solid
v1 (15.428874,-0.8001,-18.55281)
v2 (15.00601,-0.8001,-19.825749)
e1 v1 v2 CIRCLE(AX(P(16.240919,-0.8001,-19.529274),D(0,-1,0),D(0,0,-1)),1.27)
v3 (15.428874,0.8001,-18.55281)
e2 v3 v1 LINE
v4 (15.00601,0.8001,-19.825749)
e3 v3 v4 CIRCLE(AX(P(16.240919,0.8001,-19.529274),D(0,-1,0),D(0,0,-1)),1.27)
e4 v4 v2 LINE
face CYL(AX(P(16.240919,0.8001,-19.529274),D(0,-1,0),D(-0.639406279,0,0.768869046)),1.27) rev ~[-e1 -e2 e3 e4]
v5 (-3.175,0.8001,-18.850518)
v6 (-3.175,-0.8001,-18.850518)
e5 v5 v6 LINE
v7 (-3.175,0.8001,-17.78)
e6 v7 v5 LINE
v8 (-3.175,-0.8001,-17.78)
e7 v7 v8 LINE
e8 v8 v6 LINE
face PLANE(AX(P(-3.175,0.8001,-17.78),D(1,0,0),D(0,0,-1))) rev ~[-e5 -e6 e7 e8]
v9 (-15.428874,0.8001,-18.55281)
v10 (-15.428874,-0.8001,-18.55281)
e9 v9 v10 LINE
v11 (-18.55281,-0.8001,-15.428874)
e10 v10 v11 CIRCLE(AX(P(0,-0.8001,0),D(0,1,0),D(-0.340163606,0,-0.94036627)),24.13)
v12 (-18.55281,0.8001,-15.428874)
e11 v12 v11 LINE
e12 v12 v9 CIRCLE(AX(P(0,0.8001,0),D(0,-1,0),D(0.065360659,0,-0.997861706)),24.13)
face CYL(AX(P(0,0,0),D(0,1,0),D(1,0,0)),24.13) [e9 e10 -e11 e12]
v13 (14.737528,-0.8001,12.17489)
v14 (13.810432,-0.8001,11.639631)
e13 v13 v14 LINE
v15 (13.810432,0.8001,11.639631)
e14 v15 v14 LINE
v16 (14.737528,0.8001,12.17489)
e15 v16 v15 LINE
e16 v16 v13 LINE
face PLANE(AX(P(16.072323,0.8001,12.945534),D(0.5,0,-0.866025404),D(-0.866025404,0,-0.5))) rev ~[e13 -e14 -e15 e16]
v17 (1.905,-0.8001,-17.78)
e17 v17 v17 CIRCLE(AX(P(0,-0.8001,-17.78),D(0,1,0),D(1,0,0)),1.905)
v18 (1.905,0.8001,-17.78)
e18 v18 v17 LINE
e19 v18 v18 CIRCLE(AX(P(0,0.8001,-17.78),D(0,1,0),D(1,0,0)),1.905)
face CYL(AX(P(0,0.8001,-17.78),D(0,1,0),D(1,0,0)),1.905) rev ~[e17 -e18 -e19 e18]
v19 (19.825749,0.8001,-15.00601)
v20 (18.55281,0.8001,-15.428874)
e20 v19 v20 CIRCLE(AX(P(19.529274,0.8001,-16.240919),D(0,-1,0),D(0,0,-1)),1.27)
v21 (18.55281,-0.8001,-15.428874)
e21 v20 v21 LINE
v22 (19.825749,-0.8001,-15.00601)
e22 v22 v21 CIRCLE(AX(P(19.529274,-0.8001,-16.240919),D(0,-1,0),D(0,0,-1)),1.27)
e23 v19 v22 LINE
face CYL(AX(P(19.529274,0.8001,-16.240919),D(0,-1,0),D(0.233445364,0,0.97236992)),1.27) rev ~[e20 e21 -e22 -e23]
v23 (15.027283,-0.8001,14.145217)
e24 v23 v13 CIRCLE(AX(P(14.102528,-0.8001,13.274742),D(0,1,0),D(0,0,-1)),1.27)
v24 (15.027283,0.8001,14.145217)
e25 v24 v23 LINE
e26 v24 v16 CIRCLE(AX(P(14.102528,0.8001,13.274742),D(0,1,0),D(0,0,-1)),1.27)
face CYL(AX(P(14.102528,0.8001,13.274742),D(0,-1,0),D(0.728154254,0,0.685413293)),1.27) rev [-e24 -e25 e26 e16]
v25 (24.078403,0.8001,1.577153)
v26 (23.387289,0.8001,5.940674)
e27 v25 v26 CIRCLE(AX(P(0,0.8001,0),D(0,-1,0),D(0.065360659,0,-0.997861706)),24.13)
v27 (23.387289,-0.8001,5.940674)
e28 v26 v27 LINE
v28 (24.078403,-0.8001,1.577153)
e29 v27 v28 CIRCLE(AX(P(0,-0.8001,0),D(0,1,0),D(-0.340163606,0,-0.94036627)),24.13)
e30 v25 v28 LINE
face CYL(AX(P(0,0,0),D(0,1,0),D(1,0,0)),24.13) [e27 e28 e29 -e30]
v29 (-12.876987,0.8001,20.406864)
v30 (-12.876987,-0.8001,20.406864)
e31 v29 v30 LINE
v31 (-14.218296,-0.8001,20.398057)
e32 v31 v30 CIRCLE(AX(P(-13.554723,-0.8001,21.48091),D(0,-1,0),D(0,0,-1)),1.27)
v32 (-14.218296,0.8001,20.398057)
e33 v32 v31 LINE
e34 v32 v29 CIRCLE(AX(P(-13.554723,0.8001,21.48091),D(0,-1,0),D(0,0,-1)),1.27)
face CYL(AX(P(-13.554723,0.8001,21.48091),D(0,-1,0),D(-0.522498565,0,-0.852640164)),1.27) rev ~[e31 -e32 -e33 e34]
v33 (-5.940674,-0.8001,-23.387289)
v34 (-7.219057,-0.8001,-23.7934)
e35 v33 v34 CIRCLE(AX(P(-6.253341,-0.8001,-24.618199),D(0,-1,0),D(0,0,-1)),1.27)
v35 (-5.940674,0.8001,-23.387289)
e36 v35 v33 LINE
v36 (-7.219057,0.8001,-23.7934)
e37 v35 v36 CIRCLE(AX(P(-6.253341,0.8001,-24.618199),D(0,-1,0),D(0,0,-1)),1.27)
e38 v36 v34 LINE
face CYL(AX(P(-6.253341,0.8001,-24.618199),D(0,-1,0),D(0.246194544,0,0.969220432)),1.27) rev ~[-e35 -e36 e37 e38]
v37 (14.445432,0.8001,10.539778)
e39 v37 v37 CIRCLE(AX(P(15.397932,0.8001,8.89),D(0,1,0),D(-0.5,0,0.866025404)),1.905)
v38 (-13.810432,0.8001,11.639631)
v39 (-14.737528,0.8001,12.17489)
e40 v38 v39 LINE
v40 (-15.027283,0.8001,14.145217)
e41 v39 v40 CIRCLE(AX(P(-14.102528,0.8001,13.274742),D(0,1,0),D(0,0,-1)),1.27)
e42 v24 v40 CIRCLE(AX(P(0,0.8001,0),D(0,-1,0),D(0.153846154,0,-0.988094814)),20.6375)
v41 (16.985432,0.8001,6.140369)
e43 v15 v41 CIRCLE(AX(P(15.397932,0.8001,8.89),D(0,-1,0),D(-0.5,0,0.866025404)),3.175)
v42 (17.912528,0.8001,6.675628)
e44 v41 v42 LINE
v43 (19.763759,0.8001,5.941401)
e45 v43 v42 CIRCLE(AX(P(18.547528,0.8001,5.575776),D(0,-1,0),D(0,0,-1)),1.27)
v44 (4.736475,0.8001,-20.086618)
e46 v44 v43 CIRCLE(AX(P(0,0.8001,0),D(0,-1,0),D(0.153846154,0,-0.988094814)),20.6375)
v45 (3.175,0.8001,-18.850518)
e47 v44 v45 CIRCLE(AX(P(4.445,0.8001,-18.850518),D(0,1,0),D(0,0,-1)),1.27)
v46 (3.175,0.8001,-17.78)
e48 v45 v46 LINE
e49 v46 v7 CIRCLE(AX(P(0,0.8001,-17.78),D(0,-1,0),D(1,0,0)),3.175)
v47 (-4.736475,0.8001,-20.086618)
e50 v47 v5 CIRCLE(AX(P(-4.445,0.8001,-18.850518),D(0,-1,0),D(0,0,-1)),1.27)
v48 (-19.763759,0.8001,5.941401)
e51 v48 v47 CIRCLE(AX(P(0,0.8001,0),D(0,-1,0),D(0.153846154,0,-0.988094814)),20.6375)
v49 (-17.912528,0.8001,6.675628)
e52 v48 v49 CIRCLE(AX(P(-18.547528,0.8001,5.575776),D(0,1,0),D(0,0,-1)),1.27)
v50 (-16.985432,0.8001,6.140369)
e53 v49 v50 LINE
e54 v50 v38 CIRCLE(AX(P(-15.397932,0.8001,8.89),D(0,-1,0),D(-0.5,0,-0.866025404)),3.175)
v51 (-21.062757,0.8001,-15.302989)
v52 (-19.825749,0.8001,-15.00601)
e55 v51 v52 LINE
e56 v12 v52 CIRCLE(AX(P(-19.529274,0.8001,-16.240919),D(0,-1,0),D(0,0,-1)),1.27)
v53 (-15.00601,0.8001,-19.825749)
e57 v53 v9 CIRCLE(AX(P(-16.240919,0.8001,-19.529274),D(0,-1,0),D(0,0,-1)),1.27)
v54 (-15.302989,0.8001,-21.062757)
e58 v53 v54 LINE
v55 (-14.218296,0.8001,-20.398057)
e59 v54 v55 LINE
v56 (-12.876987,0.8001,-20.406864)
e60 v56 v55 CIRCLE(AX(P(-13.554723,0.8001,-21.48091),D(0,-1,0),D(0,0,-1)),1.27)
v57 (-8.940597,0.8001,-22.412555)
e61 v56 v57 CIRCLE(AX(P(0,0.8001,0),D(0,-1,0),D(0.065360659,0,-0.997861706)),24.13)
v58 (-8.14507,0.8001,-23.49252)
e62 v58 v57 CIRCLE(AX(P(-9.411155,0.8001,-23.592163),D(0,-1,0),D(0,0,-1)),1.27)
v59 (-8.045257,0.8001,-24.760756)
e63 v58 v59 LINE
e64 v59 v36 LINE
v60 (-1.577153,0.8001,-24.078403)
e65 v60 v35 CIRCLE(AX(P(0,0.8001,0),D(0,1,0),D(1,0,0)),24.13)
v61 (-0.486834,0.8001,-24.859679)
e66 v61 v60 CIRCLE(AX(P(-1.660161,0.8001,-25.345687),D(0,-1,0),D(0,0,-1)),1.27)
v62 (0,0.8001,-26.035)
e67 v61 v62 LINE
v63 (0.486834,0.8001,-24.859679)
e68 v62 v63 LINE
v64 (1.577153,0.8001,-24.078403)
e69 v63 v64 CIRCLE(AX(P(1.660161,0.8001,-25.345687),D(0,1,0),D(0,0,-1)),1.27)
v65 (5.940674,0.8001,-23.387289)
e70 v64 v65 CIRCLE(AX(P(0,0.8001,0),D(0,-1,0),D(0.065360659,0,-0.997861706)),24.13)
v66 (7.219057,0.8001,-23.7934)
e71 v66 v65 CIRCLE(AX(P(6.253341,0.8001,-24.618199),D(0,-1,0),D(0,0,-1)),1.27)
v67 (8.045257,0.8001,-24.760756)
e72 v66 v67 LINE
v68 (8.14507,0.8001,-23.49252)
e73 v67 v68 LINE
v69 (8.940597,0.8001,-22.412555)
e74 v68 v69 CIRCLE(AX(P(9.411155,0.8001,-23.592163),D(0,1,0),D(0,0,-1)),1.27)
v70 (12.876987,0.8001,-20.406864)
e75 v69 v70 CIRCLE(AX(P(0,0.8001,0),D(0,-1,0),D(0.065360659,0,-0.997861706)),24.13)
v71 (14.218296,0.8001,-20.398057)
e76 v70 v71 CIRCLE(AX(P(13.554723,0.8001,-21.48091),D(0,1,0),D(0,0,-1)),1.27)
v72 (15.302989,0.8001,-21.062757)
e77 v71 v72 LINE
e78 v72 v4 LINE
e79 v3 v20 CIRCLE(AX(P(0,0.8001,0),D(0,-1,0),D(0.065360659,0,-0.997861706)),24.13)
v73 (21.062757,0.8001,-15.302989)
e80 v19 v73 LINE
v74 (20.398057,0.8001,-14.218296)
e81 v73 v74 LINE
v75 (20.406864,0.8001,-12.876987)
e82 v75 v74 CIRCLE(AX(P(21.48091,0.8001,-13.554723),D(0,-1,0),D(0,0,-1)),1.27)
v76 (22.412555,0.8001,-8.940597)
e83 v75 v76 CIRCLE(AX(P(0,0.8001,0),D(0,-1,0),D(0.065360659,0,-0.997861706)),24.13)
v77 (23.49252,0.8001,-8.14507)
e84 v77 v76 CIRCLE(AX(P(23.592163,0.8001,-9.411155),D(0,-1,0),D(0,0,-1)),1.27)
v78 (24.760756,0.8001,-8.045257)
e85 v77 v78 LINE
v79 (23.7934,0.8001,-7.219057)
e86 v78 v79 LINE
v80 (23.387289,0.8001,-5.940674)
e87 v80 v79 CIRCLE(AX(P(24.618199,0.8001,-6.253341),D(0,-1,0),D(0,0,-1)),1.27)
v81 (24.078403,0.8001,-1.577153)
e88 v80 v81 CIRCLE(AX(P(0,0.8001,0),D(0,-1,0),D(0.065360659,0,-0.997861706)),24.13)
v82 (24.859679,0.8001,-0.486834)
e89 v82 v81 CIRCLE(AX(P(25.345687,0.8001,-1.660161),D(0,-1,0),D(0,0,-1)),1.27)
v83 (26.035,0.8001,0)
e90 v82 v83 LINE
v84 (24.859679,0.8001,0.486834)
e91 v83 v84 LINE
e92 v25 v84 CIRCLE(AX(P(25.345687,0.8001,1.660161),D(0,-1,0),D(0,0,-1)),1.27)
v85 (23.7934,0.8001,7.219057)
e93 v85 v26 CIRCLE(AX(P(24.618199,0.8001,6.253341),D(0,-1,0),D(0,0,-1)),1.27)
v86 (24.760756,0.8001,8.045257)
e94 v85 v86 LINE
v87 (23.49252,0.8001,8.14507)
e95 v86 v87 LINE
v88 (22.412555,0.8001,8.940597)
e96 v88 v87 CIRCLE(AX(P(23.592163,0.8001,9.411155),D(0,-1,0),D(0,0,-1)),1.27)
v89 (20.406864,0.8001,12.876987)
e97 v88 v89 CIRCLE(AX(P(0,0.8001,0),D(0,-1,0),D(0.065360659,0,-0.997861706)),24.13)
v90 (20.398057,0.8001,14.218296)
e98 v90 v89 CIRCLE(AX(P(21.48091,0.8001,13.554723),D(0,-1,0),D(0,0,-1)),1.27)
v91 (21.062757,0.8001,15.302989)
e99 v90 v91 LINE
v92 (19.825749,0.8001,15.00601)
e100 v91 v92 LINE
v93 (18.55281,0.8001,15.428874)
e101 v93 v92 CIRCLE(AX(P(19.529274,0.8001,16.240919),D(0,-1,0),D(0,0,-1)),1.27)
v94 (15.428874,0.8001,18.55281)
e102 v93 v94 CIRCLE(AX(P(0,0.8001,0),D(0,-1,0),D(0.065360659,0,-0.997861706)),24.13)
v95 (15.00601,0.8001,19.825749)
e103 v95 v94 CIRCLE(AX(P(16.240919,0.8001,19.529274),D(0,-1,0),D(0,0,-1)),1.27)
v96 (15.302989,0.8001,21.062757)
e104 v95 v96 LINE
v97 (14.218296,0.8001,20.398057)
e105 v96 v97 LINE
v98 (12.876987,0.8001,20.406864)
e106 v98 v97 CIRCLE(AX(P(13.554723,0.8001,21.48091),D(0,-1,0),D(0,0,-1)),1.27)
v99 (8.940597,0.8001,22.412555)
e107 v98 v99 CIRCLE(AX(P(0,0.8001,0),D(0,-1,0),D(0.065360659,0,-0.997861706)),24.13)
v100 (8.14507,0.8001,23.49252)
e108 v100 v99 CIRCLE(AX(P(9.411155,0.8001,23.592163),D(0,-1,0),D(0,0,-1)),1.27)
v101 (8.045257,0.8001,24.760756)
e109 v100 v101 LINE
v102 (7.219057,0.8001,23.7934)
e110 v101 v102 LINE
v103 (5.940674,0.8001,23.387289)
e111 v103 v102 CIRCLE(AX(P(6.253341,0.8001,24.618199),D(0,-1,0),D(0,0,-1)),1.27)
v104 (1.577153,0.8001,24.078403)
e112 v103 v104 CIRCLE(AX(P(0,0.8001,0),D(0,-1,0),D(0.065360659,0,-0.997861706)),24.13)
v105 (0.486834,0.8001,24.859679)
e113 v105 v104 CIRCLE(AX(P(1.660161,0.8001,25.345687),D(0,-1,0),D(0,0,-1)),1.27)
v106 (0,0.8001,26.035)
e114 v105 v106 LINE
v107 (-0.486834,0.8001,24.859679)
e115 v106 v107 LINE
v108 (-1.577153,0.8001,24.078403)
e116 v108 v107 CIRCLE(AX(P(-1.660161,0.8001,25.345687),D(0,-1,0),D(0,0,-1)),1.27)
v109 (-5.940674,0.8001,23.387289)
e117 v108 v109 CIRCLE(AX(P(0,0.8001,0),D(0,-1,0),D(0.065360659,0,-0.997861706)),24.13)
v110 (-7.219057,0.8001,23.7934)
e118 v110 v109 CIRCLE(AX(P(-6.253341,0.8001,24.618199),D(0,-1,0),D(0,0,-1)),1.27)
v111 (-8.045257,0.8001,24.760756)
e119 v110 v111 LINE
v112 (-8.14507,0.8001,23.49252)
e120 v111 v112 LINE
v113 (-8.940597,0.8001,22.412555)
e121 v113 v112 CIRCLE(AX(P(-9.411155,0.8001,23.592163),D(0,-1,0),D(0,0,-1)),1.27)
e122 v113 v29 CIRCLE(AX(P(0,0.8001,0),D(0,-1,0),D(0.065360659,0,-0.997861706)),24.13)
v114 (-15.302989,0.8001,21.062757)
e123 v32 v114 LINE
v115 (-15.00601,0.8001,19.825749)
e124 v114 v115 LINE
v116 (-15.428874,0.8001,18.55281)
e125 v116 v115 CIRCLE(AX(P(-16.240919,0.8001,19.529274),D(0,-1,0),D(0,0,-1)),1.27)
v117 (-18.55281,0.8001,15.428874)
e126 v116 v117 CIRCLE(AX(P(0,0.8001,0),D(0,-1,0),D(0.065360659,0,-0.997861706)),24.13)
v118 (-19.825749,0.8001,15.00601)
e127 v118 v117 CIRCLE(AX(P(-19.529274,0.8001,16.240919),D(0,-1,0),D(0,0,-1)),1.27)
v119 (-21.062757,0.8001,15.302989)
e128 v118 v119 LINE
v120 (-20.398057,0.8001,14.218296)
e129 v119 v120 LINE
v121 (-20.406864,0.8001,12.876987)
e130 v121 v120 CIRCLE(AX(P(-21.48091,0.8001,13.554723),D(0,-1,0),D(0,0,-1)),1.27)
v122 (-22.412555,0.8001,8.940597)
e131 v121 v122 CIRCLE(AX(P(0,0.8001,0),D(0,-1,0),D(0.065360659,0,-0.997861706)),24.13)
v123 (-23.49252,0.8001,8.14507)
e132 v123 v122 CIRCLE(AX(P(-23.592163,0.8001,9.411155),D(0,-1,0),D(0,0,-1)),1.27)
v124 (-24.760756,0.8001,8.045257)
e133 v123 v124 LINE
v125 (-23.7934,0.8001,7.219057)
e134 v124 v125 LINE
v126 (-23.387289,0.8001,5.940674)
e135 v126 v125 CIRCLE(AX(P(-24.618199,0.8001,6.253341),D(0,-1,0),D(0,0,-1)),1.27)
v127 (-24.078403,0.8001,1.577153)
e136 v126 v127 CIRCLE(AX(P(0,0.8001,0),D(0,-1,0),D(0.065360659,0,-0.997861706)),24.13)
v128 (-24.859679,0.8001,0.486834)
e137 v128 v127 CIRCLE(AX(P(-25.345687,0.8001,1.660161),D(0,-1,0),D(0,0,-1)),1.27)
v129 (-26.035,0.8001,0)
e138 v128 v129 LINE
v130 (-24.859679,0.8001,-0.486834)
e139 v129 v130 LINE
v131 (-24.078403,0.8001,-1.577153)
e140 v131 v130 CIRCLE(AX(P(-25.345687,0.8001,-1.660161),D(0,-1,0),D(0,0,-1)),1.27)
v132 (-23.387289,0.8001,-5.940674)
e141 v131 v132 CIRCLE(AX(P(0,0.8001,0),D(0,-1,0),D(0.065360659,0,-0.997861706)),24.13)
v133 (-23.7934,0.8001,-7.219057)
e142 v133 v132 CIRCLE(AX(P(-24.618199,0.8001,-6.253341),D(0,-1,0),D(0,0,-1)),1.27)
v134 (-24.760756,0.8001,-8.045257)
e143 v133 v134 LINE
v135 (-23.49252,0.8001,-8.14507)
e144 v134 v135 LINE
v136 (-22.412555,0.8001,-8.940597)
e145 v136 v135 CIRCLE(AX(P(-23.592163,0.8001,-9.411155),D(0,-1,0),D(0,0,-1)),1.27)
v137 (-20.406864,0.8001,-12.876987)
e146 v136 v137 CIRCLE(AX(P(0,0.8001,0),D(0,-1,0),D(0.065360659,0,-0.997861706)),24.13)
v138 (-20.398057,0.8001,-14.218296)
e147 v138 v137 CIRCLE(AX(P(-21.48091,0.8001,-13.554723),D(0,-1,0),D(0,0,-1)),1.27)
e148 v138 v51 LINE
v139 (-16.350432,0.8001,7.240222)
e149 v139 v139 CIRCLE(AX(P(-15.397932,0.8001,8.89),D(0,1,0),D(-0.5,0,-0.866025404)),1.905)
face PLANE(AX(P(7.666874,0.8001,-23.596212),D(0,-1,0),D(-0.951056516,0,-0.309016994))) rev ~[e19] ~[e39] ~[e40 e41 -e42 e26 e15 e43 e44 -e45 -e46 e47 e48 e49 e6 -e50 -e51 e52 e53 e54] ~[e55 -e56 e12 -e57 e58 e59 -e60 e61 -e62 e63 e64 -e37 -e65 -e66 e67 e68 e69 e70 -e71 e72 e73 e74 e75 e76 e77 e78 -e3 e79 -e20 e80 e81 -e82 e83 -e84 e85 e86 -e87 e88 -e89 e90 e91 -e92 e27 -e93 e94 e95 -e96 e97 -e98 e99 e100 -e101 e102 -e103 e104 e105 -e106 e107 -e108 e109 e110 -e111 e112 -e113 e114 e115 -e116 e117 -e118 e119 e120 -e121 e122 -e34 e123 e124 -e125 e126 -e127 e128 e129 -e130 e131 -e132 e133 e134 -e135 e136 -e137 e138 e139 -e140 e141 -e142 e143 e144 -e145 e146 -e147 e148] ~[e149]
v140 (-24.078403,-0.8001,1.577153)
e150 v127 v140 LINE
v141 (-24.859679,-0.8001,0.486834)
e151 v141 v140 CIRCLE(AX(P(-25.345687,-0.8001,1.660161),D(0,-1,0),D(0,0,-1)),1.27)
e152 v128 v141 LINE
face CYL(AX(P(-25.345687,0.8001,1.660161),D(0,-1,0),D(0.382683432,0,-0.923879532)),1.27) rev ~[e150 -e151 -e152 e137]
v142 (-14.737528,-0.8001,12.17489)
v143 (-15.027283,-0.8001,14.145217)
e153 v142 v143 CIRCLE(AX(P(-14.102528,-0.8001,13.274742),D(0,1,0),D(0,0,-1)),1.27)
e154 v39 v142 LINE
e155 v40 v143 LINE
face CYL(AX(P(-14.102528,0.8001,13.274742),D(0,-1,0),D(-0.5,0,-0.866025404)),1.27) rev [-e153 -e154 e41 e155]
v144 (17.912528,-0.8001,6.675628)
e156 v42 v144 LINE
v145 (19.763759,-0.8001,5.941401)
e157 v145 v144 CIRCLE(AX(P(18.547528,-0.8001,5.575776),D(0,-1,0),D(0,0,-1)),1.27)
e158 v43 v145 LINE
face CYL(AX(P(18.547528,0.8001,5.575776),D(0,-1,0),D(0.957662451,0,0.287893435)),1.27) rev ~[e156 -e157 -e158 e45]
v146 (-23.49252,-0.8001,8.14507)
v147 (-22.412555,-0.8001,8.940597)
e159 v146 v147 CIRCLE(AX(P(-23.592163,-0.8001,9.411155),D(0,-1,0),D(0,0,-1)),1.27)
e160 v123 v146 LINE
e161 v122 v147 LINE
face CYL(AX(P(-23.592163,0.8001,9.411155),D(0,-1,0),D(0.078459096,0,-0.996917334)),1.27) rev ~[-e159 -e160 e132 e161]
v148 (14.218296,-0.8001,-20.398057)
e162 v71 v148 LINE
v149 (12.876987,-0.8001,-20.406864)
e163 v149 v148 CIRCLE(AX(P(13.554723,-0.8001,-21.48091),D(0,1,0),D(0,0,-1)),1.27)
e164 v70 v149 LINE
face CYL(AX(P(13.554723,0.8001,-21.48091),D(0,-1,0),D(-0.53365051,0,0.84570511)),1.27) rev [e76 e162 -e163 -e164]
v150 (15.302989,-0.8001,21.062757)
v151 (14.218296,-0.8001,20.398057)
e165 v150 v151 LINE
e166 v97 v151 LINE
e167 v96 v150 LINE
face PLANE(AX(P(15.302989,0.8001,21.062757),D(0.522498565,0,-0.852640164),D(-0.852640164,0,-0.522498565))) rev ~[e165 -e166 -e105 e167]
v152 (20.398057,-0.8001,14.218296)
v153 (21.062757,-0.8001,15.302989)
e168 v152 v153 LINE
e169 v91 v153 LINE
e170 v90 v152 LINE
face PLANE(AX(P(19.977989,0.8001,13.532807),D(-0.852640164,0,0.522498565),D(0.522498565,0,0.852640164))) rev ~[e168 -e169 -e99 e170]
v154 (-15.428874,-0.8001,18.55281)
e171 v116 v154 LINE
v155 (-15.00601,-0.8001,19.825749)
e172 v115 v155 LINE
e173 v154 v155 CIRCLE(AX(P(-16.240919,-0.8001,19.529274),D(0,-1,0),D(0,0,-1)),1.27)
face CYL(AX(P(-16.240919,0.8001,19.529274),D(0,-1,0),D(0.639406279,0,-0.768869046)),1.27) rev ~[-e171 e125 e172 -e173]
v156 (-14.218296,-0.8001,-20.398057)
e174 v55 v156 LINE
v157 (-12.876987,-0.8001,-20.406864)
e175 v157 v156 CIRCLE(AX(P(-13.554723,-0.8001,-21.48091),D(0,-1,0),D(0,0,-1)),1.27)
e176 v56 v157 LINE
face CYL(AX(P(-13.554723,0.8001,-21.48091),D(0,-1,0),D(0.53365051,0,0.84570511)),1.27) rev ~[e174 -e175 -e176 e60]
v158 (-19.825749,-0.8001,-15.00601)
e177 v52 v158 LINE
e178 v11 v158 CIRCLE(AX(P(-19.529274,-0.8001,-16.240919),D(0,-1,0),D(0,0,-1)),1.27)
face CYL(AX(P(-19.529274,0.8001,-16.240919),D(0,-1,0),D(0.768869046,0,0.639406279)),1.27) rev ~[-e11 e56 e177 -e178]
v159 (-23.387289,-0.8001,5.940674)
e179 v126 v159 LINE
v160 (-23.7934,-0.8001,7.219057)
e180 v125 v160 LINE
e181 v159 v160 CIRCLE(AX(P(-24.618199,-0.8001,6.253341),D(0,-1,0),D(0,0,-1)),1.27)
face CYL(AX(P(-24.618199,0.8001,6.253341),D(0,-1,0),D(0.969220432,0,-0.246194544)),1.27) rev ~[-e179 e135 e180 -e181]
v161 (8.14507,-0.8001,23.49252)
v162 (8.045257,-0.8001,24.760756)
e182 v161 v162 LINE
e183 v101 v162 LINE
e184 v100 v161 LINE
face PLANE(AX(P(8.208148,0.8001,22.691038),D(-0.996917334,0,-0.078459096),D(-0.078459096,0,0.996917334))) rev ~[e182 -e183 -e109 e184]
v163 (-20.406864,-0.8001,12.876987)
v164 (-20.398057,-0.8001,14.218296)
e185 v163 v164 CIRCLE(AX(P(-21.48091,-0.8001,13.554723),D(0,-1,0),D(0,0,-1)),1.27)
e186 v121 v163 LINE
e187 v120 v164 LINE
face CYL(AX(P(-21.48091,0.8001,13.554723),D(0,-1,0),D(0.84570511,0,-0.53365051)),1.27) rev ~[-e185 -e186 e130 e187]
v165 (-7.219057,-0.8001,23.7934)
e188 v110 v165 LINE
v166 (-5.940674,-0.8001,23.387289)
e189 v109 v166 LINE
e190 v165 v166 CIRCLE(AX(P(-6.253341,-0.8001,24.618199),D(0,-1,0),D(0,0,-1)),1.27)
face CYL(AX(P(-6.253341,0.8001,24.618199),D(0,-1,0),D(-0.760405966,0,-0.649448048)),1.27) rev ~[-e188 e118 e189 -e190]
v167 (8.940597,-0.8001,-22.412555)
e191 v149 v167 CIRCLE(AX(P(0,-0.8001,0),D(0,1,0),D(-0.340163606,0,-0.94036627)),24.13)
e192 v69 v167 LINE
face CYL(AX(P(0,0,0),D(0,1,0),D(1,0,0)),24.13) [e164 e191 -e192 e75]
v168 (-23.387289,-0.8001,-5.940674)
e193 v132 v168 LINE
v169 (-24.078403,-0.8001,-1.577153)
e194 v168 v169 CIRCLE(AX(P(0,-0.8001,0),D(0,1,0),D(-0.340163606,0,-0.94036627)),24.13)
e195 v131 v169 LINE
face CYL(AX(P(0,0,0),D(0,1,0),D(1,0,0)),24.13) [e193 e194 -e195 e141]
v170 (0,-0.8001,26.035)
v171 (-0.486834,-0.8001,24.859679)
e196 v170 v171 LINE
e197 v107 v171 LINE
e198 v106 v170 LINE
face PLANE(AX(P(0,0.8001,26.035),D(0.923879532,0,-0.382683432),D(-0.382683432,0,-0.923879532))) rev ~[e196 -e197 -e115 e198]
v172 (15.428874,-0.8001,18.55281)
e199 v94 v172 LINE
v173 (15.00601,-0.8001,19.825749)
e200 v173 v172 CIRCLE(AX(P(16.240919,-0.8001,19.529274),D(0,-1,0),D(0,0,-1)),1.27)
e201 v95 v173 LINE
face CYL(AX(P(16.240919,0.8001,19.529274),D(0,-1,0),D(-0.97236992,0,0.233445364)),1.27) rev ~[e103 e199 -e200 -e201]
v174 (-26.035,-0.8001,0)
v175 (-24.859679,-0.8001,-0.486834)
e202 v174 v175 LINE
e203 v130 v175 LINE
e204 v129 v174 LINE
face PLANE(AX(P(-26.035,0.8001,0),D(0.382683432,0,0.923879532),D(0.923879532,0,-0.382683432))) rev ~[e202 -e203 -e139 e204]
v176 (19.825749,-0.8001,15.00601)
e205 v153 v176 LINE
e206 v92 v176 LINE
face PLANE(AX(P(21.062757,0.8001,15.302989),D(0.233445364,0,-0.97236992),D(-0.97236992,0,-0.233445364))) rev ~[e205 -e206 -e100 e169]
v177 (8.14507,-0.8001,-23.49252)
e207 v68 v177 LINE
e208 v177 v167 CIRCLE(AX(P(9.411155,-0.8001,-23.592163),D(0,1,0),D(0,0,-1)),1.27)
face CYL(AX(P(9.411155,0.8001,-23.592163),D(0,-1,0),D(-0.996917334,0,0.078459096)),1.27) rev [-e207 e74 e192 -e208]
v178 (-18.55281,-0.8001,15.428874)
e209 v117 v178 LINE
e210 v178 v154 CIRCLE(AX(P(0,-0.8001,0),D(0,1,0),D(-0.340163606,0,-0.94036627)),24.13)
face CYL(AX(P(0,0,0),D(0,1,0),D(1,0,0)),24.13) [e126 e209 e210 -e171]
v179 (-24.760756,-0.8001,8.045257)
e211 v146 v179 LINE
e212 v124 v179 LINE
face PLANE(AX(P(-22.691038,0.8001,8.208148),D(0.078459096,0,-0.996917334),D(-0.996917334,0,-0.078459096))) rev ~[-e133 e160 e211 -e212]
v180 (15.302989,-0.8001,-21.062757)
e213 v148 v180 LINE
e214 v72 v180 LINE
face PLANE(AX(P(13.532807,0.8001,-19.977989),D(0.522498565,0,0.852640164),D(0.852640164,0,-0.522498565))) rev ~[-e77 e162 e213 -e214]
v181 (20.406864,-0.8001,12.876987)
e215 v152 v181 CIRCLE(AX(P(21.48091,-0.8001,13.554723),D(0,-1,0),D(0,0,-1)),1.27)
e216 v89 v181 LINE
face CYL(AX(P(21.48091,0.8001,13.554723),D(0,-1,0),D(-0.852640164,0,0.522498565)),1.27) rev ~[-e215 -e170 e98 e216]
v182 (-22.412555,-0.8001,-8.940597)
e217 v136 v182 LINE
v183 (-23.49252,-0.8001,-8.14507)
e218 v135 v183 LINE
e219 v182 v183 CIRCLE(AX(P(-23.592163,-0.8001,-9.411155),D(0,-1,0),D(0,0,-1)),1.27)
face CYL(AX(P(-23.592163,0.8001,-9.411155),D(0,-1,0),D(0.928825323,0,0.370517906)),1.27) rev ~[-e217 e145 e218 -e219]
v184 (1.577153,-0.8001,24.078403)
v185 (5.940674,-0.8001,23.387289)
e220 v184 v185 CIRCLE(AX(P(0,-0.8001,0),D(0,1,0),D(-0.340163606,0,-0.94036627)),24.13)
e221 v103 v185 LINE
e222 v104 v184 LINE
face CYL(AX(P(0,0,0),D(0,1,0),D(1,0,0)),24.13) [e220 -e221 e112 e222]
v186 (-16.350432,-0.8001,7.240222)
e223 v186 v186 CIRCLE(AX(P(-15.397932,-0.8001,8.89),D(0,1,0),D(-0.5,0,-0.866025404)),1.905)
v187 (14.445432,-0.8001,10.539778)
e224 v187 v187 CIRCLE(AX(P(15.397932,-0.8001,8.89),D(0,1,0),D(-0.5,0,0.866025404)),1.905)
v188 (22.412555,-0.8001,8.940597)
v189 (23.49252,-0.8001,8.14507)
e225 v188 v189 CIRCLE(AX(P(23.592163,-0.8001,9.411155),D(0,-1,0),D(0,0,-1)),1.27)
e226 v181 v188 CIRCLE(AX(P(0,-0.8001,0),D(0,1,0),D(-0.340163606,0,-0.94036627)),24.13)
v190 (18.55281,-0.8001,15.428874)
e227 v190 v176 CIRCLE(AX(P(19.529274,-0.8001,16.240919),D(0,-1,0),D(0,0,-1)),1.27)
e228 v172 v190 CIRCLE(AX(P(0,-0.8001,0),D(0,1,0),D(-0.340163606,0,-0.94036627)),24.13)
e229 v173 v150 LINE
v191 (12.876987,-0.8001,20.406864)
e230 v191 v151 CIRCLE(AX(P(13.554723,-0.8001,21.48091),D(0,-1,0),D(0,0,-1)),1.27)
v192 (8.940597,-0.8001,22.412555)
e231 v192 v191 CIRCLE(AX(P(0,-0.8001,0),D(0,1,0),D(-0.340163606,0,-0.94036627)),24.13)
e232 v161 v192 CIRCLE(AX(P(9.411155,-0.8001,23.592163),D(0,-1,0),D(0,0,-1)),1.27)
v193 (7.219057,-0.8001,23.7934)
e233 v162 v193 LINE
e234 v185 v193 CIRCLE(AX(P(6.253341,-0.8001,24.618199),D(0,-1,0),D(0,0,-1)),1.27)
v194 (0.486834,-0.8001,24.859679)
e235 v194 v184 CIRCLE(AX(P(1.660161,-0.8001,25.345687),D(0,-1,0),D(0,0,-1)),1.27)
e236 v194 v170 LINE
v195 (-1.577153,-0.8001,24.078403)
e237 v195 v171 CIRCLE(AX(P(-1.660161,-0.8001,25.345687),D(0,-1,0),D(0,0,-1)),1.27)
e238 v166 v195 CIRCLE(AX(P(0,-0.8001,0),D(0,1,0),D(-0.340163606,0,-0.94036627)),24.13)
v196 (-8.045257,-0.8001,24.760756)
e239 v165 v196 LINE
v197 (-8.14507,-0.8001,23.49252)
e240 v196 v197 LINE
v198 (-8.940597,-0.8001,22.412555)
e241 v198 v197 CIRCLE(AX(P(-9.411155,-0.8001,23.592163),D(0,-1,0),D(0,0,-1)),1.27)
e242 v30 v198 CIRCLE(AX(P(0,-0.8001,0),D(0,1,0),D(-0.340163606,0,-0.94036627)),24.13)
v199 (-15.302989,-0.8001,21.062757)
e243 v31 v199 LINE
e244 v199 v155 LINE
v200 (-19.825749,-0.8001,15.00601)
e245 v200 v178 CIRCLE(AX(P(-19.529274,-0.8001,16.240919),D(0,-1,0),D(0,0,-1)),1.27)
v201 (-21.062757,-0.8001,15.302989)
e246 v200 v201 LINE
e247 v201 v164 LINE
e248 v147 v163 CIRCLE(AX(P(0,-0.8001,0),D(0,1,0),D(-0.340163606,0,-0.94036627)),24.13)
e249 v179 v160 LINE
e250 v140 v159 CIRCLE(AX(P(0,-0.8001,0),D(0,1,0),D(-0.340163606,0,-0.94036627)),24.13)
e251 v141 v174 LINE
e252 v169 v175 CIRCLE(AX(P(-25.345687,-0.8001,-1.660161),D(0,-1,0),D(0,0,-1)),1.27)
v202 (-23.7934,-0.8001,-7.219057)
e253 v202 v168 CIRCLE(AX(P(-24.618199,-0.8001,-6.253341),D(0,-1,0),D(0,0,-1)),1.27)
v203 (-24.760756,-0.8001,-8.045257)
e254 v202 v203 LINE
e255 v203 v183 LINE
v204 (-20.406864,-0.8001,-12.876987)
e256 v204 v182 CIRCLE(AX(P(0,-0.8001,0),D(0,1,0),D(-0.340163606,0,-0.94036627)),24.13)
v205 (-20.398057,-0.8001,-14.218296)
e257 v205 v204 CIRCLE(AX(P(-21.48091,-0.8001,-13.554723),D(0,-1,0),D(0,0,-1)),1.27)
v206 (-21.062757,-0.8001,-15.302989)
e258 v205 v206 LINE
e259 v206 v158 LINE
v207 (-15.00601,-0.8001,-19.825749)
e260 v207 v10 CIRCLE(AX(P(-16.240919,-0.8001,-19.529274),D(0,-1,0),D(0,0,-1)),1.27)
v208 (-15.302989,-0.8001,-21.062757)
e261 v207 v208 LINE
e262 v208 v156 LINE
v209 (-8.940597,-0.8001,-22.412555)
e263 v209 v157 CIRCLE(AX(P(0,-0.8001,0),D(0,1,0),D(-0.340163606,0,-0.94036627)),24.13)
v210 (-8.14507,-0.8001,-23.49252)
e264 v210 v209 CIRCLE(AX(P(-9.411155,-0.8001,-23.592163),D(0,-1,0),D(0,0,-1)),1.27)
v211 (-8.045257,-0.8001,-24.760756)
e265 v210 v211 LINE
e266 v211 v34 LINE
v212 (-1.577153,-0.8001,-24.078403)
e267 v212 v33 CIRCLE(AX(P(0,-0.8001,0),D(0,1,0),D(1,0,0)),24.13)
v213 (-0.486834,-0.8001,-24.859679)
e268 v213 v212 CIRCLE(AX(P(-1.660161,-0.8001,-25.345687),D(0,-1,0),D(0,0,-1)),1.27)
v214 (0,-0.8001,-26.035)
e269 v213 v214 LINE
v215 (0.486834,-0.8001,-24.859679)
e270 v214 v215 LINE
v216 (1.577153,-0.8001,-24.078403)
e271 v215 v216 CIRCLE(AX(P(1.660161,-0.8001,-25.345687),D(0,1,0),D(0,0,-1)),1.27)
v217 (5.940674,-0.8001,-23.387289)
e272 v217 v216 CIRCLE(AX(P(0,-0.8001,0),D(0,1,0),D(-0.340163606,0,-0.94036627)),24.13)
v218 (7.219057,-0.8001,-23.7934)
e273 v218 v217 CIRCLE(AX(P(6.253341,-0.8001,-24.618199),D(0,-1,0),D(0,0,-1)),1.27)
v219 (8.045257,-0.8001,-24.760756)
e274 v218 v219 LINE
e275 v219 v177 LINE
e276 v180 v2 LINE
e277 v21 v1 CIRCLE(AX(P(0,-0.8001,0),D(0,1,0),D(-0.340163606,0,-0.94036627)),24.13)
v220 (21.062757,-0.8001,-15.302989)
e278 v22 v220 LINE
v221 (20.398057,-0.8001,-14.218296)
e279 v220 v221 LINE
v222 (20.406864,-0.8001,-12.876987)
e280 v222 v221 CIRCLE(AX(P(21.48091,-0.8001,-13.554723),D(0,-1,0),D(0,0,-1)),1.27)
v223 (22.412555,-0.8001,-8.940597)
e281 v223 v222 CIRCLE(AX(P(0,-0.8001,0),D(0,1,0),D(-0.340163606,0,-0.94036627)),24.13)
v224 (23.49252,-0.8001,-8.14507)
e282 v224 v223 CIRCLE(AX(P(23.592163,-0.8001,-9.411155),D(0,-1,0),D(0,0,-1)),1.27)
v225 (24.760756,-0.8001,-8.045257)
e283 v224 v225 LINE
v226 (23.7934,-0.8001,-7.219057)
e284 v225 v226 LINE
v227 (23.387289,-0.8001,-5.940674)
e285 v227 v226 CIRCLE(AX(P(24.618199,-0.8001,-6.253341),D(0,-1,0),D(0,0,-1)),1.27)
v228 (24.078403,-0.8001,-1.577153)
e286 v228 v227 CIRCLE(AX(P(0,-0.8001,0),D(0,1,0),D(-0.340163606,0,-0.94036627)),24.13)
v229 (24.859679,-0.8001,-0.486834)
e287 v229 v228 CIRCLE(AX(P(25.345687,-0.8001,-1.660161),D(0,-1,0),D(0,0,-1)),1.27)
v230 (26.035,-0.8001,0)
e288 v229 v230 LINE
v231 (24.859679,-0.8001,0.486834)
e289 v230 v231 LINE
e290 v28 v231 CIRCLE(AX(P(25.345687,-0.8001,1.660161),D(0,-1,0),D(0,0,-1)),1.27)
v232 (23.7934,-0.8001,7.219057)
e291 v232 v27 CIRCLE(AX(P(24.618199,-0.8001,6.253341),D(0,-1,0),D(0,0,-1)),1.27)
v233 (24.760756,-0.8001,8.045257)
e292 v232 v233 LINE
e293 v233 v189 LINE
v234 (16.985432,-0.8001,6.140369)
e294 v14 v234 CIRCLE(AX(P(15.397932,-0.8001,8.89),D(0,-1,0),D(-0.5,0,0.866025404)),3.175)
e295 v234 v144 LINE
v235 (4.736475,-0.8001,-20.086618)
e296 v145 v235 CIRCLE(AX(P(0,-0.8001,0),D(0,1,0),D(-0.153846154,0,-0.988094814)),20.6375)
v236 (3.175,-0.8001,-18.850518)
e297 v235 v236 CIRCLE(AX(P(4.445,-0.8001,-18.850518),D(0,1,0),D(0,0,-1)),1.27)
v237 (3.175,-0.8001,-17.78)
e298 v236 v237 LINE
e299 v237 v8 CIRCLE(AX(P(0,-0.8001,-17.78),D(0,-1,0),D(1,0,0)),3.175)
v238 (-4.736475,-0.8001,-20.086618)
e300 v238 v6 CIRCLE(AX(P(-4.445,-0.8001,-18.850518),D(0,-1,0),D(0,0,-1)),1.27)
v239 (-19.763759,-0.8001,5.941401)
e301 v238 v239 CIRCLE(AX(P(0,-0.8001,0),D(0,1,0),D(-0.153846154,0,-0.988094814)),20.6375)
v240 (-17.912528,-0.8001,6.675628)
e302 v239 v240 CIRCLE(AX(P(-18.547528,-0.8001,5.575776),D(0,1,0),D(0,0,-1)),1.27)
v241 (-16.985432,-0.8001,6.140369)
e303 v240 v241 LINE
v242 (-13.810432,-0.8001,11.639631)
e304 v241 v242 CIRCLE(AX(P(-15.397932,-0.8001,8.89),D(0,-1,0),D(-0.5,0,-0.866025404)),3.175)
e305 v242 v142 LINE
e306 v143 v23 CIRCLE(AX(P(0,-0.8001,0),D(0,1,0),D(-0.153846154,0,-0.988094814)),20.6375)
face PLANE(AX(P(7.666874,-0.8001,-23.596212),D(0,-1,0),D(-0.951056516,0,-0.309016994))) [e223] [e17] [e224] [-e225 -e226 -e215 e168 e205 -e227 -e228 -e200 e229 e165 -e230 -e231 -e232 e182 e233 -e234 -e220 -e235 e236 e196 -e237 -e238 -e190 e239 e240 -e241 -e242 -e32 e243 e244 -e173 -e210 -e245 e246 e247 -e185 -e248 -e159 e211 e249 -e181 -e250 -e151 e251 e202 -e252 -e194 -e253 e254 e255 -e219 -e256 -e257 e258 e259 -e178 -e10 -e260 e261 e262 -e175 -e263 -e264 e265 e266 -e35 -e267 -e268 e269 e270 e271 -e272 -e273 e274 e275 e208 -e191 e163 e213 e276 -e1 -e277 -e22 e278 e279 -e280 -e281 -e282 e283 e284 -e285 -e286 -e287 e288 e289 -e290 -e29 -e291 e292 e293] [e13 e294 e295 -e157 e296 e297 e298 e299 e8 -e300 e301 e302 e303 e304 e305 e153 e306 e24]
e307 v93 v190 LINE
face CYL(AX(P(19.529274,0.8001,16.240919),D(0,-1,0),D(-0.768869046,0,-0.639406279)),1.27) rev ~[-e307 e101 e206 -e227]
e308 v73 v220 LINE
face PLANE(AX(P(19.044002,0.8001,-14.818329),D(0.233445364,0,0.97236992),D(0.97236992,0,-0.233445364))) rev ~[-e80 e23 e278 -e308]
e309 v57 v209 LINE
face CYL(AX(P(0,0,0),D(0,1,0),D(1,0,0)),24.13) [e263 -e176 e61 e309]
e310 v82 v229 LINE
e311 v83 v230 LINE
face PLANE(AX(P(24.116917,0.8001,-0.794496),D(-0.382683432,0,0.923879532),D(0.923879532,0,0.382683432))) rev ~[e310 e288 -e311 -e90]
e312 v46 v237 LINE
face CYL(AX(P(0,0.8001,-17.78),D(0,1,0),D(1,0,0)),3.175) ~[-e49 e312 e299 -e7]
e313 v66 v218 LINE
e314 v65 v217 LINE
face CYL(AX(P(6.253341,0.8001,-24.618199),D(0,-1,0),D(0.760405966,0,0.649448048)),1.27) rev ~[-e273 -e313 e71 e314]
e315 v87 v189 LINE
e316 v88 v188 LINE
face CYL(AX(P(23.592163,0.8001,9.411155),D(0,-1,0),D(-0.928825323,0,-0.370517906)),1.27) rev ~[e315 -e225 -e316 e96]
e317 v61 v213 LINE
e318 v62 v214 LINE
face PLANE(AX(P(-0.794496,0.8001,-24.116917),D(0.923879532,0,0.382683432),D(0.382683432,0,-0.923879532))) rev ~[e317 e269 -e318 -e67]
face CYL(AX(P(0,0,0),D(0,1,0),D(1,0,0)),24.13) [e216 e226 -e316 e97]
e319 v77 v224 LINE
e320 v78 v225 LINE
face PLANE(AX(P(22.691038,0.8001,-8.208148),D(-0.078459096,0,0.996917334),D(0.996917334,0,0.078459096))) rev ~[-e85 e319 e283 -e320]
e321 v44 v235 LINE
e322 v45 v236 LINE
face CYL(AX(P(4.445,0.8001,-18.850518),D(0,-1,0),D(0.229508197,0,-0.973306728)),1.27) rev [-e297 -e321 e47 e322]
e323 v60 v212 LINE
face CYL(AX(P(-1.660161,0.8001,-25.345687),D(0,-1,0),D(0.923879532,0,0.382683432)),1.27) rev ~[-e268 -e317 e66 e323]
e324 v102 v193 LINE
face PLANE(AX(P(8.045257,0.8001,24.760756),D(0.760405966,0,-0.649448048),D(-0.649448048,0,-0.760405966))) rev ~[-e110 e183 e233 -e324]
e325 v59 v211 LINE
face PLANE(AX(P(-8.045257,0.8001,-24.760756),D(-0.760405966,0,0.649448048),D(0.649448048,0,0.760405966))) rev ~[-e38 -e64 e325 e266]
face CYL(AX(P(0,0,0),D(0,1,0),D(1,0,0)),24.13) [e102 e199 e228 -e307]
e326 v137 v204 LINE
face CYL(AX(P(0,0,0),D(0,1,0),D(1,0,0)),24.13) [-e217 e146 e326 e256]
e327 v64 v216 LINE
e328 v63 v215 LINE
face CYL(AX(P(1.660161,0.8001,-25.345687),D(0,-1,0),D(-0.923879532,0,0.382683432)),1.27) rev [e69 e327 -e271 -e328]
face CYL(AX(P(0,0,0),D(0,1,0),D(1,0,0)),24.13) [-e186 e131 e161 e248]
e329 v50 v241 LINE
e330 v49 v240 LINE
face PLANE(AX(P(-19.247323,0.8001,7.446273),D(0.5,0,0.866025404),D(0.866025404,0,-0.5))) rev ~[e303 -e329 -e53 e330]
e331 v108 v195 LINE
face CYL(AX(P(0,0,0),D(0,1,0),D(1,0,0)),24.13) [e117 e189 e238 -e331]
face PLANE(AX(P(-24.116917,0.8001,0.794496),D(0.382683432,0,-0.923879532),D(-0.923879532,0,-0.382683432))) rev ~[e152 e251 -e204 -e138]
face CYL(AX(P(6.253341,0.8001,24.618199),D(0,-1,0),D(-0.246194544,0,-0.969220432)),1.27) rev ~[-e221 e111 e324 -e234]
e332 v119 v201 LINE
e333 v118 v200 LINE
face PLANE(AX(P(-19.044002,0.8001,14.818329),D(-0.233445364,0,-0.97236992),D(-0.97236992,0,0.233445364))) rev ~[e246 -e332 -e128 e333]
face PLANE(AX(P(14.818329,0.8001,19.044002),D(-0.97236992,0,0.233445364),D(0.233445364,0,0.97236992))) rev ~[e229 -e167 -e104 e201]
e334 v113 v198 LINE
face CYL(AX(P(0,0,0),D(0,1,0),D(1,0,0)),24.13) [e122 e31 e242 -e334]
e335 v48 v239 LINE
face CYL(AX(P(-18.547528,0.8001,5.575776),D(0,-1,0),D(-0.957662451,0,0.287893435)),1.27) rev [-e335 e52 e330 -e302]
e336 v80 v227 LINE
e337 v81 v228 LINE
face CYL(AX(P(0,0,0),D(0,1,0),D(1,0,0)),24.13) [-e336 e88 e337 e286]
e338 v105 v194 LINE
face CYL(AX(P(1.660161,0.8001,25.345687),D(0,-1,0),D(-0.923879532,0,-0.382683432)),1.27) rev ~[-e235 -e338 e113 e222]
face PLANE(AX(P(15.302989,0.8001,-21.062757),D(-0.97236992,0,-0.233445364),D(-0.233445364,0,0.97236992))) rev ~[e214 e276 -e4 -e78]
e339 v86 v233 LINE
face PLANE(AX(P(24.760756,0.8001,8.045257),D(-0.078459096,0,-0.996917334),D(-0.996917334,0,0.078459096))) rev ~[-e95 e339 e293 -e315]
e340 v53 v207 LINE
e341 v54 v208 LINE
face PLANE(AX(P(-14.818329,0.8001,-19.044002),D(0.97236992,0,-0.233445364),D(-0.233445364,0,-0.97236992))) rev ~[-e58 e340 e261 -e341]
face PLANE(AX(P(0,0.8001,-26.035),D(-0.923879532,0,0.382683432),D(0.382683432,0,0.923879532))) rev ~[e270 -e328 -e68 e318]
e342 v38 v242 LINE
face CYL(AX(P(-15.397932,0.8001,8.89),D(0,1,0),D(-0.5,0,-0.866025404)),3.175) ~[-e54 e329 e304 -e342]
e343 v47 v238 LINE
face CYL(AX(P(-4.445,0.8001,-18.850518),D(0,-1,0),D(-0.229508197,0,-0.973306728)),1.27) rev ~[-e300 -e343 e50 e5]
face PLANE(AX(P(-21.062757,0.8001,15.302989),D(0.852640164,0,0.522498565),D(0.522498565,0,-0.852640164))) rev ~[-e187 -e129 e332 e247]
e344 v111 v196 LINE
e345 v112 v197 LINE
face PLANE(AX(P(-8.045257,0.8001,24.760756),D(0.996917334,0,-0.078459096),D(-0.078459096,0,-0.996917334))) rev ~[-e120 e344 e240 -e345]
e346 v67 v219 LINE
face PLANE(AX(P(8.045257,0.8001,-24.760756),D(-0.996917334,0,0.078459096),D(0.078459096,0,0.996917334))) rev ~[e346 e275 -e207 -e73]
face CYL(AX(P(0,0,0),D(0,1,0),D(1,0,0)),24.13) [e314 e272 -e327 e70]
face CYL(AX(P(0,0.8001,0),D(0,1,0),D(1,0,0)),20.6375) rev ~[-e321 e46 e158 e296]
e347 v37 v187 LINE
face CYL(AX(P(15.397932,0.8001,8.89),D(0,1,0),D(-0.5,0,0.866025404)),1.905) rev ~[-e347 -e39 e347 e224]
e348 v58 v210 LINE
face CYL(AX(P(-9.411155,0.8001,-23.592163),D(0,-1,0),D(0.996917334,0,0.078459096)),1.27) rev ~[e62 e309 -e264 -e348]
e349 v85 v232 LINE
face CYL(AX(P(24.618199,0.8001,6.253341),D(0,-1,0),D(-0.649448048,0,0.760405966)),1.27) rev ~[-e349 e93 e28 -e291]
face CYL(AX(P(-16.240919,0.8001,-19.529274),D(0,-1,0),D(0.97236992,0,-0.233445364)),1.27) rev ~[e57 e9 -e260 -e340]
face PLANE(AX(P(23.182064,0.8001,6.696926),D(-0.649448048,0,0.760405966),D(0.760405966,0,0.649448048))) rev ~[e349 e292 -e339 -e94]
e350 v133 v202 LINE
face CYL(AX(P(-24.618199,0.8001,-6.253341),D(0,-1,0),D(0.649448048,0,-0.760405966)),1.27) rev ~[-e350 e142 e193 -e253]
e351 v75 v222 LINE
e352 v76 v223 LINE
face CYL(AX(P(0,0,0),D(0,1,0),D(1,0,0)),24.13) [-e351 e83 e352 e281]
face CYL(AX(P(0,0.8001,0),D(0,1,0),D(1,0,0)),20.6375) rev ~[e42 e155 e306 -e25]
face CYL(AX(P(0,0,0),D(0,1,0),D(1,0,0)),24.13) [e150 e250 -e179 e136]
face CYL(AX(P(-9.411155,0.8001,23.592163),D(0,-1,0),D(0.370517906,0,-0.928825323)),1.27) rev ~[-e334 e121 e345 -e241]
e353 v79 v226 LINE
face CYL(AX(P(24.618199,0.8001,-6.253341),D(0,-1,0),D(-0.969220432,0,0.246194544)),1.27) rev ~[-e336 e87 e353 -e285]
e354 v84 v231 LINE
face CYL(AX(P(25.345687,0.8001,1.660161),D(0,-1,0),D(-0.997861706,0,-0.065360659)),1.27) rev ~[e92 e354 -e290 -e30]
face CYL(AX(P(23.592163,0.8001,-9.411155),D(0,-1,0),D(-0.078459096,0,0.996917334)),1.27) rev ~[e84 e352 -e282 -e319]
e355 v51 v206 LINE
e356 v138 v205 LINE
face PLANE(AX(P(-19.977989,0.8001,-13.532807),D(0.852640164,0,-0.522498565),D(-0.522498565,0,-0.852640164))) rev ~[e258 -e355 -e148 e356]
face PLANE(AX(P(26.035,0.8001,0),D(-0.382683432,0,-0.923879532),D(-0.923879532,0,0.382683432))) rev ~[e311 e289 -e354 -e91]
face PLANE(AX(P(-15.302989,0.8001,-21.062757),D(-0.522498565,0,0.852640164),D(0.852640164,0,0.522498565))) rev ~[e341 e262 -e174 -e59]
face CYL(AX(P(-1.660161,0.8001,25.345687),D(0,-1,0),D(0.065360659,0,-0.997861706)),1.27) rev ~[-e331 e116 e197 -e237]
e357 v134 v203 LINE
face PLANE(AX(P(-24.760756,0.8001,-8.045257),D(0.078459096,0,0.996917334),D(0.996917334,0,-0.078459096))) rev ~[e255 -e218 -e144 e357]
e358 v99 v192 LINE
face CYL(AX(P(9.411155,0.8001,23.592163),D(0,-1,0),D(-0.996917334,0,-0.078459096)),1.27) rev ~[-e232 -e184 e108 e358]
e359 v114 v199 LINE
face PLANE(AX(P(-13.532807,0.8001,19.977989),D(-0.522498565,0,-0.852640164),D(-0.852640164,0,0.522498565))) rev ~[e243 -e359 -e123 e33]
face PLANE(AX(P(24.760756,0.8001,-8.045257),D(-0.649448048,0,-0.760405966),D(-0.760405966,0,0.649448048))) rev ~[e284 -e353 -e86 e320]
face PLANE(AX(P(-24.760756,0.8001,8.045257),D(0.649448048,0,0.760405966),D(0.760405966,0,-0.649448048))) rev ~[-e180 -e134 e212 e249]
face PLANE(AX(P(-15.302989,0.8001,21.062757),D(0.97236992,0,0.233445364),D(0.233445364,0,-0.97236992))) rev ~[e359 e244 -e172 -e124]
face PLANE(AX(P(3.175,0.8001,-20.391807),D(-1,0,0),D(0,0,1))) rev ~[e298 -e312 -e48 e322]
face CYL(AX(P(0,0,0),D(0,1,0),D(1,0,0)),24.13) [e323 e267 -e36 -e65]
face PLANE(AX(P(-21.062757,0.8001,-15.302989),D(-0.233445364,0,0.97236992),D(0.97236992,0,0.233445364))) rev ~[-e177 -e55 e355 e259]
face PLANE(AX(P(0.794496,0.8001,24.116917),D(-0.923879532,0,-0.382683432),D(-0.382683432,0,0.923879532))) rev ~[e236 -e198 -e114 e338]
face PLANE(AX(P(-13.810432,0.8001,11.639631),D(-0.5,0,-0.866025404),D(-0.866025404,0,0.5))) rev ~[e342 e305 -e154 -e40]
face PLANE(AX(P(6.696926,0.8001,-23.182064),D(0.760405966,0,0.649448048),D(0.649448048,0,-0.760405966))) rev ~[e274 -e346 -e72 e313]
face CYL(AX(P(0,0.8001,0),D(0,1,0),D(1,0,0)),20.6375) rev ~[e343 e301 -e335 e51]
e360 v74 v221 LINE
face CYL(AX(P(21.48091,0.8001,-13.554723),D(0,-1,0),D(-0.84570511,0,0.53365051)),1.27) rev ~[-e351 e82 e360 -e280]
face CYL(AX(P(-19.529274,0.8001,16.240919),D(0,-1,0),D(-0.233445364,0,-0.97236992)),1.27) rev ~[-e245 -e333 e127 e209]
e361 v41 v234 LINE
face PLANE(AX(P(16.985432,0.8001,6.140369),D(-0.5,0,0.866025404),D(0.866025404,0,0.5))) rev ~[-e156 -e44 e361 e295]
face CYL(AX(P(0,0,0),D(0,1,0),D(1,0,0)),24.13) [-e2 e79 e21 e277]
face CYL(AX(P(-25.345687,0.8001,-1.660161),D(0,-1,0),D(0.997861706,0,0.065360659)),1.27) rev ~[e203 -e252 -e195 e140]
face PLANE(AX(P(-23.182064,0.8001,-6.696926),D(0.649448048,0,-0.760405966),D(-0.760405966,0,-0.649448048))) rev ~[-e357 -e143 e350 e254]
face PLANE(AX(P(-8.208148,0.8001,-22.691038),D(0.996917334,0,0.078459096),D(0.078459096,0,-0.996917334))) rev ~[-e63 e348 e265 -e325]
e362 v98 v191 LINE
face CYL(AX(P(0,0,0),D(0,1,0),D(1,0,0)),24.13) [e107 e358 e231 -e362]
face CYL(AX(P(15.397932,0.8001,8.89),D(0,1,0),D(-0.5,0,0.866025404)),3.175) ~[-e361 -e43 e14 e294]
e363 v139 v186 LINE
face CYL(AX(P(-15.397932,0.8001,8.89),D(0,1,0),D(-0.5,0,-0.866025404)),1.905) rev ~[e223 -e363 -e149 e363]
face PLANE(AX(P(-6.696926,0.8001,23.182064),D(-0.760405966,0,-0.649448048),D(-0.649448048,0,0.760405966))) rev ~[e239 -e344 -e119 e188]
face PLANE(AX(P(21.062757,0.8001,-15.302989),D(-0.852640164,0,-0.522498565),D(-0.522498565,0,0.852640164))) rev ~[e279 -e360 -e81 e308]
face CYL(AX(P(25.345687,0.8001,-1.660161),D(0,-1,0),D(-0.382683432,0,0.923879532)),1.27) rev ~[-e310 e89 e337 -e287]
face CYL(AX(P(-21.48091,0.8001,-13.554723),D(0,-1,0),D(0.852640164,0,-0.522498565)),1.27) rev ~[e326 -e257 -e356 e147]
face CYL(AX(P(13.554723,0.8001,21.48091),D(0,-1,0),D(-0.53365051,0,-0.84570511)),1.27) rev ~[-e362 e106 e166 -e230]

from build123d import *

# Parameters (mm, degrees)
SKETCH1_R                = 24.13
BOSS_EXTRUDE1_DEPTH      = 0.8001
BOSS_EXTRUDE2_DEPTH      = 1.6002
FILLET1_R                = 1.27
CIRPATTERN1_COUNT        = 20
FILLET1_OF_CIRPATTERN1_R = 1.27
SKETCH3_R                = 20.6375
CUT_EXTRUDE1_DEPTH       = 2.6002
SKETCH4_R                = 1.905
BOSS_EXTRUDE3_DEPTH      = 1.6002
FILLET2_R                = 1.27
CIRPATTERN2_COUNT        = 3
FILLET2_OF_CIRPATTERN2_R = 1.27


with BuildPart() as part:
    # Sketch1 → Boss-Extrude1 (new body, symmetric)
    with BuildSketch(Plane(origin=(0, 0, 0), x_dir=(1, 0, 0), z_dir=(0, 1, 0))):
        Circle(SKETCH1_R)
    extrude(amount=BOSS_EXTRUDE1_DEPTH, both=True)

    # Sketch2 → Boss-Extrude2 (add, through all)
    with BuildSketch(Plane(origin=(0, 0.8001, 0), x_dir=(1, 0, 0), z_dir=(0, 1, 0))):
        Polygon((-0.794496075, 24.116916801), (0, 26.035), (0.794496075, 24.116916801), align=None)
    boss_extrude2 = extrude(amount=-BOSS_EXTRUDE2_DEPTH)

    # Fillet1
    fillet1_edges = [part.edges().sort_by_distance(p)[0] for p in [
        (0.794496075, 0, -24.116916801),
        (-0.794496075, 0, -24.116916801),
    ]]
    fillet(fillet1_edges, radius=FILLET1_R)

    # CirPattern1: Boss-Extrude2 ×20 about axis
    cirpattern1_axis = Axis((0, 0, 0), (0, 1, 0))
    for i in range(1, CIRPATTERN1_COUNT):
        add(boss_extrude2.rotate(cirpattern1_axis, i * 360 / CIRPATTERN1_COUNT))

    # Fillet1 of CirPattern1
    fillet1_of_cirpattern1_edges = [part.edges().sort_by_distance(p)[0] for p in [
        (-6.696926474, 0, -23.182063666),
        (-8.208147813, 0, -22.691038087),
        (-13.5328072, 0, -19.97798862),
        (-14.818328853, 0, -19.044002468),
        (-19.044002468, 0, -14.818328853),
        (-19.97798862, 0, -13.5328072),
        (-22.691038087, 0, -8.208147813),
        (-23.182063666, 0, -6.696926474),
        (-24.116916801, 0, -0.794496075),
        (-24.116916801, 0, 0.794496075),
        (-23.182063666, 0, 6.696926474),
        (-22.691038087, 0, 8.208147813),
        (-19.97798862, 0, 13.5328072),
        (-19.044002468, 0, 14.818328853),
        (-14.818328853, 0, 19.044002468),
        (-13.5328072, 0, 19.97798862),
        (-8.208147813, 0, 22.691038087),
        (-6.696926474, 0, 23.182063666),
        (-0.794496075, 0, 24.116916801),
        (0.794496075, 0, 24.116916801),
        (6.696926474, 0, 23.182063666),
        (8.208147813, 0, 22.691038087),
        (13.5328072, 0, 19.97798862),
        (14.818328853, 0, 19.044002468),
        (19.044002468, 0, 14.818328853),
        (19.97798862, 0, 13.5328072),
        (22.691038087, 0, 8.208147813),
        (23.182063666, 0, 6.696926474),
        (24.116916801, 0, 0.794496075),
        (24.116916801, 0, -0.794496075),
        (23.182063666, 0, -6.696926474),
        (22.691038087, 0, -8.208147813),
        (19.97798862, 0, -13.5328072),
        (19.044002468, 0, -14.818328853),
        (14.818328853, 0, -19.044002468),
        (13.5328072, 0, -19.97798862),
        (8.208147813, 0, -22.691038087),
        (6.696926474, 0, -23.182063666),
    ]]
    fillet(fillet1_of_cirpattern1_edges, radius=FILLET1_OF_CIRPATTERN1_R)

    # Sketch3 → Cut-Extrude1 (cut, through all)
    with BuildSketch(Plane(origin=(0, 0.8001, 0), x_dir=(1, 0, 0), z_dir=(0, 1, 0))):
        Circle(SKETCH3_R)
    extrude(amount=-CUT_EXTRUDE1_DEPTH, mode=Mode.SUBTRACT)

    # Sketch4 → Boss-Extrude3 (add, through all)
    with BuildSketch(Plane(origin=(0, 0.8001, 0), x_dir=(1, 0, 0), z_dir=(0, 1, 0))):
        with BuildLine():
            Line((-3.175, 17.78), (-3.175, 20.391806719))
            ThreePointArc((-3.175, 20.391806719), (0, 20.6375), (3.175, 20.391806719))
            Line((3.175, 20.391806719), (3.175, 17.78))
            ThreePointArc((3.175, 17.78), (0, 14.605), (-3.175, 17.78))
        make_face()
        with Locations((0, 17.78)):
            Circle(SKETCH4_R, mode=Mode.SUBTRACT)
    boss_extrude3 = extrude(amount=-BOSS_EXTRUDE3_DEPTH)

    # Fillet2
    fillet2_edges = [part.edges().sort_by_distance(p)[0] for p in [
        (-3.175, 0, -20.391806719),
        (3.175, 0, -20.391806719),
    ]]
    fillet(fillet2_edges, radius=FILLET2_R)

    # CirPattern2: Boss-Extrude3 ×3 about axis
    cirpattern2_axis = Axis((0, 0, 0), (0, 1, 0))
    for i in range(1, CIRPATTERN2_COUNT):
        add(boss_extrude3.rotate(cirpattern2_axis, i * 360 / CIRPATTERN2_COUNT))

    # Fillet2 of CirPattern2
    fillet2_of_cirpattern2_edges = [part.edges().sort_by_distance(p)[0] for p in [
        (-16.072322647, 0, 12.945534016),
        (-19.247322647, 0, 7.446272702),
        (19.247322647, 0, 7.446272702),
        (16.072322647, 0, 12.945534016),
    ]]
    fillet(fillet2_of_cirpattern2_edges, radius=FILLET2_OF_CIRPATTERN2_R)


solid = part.part
